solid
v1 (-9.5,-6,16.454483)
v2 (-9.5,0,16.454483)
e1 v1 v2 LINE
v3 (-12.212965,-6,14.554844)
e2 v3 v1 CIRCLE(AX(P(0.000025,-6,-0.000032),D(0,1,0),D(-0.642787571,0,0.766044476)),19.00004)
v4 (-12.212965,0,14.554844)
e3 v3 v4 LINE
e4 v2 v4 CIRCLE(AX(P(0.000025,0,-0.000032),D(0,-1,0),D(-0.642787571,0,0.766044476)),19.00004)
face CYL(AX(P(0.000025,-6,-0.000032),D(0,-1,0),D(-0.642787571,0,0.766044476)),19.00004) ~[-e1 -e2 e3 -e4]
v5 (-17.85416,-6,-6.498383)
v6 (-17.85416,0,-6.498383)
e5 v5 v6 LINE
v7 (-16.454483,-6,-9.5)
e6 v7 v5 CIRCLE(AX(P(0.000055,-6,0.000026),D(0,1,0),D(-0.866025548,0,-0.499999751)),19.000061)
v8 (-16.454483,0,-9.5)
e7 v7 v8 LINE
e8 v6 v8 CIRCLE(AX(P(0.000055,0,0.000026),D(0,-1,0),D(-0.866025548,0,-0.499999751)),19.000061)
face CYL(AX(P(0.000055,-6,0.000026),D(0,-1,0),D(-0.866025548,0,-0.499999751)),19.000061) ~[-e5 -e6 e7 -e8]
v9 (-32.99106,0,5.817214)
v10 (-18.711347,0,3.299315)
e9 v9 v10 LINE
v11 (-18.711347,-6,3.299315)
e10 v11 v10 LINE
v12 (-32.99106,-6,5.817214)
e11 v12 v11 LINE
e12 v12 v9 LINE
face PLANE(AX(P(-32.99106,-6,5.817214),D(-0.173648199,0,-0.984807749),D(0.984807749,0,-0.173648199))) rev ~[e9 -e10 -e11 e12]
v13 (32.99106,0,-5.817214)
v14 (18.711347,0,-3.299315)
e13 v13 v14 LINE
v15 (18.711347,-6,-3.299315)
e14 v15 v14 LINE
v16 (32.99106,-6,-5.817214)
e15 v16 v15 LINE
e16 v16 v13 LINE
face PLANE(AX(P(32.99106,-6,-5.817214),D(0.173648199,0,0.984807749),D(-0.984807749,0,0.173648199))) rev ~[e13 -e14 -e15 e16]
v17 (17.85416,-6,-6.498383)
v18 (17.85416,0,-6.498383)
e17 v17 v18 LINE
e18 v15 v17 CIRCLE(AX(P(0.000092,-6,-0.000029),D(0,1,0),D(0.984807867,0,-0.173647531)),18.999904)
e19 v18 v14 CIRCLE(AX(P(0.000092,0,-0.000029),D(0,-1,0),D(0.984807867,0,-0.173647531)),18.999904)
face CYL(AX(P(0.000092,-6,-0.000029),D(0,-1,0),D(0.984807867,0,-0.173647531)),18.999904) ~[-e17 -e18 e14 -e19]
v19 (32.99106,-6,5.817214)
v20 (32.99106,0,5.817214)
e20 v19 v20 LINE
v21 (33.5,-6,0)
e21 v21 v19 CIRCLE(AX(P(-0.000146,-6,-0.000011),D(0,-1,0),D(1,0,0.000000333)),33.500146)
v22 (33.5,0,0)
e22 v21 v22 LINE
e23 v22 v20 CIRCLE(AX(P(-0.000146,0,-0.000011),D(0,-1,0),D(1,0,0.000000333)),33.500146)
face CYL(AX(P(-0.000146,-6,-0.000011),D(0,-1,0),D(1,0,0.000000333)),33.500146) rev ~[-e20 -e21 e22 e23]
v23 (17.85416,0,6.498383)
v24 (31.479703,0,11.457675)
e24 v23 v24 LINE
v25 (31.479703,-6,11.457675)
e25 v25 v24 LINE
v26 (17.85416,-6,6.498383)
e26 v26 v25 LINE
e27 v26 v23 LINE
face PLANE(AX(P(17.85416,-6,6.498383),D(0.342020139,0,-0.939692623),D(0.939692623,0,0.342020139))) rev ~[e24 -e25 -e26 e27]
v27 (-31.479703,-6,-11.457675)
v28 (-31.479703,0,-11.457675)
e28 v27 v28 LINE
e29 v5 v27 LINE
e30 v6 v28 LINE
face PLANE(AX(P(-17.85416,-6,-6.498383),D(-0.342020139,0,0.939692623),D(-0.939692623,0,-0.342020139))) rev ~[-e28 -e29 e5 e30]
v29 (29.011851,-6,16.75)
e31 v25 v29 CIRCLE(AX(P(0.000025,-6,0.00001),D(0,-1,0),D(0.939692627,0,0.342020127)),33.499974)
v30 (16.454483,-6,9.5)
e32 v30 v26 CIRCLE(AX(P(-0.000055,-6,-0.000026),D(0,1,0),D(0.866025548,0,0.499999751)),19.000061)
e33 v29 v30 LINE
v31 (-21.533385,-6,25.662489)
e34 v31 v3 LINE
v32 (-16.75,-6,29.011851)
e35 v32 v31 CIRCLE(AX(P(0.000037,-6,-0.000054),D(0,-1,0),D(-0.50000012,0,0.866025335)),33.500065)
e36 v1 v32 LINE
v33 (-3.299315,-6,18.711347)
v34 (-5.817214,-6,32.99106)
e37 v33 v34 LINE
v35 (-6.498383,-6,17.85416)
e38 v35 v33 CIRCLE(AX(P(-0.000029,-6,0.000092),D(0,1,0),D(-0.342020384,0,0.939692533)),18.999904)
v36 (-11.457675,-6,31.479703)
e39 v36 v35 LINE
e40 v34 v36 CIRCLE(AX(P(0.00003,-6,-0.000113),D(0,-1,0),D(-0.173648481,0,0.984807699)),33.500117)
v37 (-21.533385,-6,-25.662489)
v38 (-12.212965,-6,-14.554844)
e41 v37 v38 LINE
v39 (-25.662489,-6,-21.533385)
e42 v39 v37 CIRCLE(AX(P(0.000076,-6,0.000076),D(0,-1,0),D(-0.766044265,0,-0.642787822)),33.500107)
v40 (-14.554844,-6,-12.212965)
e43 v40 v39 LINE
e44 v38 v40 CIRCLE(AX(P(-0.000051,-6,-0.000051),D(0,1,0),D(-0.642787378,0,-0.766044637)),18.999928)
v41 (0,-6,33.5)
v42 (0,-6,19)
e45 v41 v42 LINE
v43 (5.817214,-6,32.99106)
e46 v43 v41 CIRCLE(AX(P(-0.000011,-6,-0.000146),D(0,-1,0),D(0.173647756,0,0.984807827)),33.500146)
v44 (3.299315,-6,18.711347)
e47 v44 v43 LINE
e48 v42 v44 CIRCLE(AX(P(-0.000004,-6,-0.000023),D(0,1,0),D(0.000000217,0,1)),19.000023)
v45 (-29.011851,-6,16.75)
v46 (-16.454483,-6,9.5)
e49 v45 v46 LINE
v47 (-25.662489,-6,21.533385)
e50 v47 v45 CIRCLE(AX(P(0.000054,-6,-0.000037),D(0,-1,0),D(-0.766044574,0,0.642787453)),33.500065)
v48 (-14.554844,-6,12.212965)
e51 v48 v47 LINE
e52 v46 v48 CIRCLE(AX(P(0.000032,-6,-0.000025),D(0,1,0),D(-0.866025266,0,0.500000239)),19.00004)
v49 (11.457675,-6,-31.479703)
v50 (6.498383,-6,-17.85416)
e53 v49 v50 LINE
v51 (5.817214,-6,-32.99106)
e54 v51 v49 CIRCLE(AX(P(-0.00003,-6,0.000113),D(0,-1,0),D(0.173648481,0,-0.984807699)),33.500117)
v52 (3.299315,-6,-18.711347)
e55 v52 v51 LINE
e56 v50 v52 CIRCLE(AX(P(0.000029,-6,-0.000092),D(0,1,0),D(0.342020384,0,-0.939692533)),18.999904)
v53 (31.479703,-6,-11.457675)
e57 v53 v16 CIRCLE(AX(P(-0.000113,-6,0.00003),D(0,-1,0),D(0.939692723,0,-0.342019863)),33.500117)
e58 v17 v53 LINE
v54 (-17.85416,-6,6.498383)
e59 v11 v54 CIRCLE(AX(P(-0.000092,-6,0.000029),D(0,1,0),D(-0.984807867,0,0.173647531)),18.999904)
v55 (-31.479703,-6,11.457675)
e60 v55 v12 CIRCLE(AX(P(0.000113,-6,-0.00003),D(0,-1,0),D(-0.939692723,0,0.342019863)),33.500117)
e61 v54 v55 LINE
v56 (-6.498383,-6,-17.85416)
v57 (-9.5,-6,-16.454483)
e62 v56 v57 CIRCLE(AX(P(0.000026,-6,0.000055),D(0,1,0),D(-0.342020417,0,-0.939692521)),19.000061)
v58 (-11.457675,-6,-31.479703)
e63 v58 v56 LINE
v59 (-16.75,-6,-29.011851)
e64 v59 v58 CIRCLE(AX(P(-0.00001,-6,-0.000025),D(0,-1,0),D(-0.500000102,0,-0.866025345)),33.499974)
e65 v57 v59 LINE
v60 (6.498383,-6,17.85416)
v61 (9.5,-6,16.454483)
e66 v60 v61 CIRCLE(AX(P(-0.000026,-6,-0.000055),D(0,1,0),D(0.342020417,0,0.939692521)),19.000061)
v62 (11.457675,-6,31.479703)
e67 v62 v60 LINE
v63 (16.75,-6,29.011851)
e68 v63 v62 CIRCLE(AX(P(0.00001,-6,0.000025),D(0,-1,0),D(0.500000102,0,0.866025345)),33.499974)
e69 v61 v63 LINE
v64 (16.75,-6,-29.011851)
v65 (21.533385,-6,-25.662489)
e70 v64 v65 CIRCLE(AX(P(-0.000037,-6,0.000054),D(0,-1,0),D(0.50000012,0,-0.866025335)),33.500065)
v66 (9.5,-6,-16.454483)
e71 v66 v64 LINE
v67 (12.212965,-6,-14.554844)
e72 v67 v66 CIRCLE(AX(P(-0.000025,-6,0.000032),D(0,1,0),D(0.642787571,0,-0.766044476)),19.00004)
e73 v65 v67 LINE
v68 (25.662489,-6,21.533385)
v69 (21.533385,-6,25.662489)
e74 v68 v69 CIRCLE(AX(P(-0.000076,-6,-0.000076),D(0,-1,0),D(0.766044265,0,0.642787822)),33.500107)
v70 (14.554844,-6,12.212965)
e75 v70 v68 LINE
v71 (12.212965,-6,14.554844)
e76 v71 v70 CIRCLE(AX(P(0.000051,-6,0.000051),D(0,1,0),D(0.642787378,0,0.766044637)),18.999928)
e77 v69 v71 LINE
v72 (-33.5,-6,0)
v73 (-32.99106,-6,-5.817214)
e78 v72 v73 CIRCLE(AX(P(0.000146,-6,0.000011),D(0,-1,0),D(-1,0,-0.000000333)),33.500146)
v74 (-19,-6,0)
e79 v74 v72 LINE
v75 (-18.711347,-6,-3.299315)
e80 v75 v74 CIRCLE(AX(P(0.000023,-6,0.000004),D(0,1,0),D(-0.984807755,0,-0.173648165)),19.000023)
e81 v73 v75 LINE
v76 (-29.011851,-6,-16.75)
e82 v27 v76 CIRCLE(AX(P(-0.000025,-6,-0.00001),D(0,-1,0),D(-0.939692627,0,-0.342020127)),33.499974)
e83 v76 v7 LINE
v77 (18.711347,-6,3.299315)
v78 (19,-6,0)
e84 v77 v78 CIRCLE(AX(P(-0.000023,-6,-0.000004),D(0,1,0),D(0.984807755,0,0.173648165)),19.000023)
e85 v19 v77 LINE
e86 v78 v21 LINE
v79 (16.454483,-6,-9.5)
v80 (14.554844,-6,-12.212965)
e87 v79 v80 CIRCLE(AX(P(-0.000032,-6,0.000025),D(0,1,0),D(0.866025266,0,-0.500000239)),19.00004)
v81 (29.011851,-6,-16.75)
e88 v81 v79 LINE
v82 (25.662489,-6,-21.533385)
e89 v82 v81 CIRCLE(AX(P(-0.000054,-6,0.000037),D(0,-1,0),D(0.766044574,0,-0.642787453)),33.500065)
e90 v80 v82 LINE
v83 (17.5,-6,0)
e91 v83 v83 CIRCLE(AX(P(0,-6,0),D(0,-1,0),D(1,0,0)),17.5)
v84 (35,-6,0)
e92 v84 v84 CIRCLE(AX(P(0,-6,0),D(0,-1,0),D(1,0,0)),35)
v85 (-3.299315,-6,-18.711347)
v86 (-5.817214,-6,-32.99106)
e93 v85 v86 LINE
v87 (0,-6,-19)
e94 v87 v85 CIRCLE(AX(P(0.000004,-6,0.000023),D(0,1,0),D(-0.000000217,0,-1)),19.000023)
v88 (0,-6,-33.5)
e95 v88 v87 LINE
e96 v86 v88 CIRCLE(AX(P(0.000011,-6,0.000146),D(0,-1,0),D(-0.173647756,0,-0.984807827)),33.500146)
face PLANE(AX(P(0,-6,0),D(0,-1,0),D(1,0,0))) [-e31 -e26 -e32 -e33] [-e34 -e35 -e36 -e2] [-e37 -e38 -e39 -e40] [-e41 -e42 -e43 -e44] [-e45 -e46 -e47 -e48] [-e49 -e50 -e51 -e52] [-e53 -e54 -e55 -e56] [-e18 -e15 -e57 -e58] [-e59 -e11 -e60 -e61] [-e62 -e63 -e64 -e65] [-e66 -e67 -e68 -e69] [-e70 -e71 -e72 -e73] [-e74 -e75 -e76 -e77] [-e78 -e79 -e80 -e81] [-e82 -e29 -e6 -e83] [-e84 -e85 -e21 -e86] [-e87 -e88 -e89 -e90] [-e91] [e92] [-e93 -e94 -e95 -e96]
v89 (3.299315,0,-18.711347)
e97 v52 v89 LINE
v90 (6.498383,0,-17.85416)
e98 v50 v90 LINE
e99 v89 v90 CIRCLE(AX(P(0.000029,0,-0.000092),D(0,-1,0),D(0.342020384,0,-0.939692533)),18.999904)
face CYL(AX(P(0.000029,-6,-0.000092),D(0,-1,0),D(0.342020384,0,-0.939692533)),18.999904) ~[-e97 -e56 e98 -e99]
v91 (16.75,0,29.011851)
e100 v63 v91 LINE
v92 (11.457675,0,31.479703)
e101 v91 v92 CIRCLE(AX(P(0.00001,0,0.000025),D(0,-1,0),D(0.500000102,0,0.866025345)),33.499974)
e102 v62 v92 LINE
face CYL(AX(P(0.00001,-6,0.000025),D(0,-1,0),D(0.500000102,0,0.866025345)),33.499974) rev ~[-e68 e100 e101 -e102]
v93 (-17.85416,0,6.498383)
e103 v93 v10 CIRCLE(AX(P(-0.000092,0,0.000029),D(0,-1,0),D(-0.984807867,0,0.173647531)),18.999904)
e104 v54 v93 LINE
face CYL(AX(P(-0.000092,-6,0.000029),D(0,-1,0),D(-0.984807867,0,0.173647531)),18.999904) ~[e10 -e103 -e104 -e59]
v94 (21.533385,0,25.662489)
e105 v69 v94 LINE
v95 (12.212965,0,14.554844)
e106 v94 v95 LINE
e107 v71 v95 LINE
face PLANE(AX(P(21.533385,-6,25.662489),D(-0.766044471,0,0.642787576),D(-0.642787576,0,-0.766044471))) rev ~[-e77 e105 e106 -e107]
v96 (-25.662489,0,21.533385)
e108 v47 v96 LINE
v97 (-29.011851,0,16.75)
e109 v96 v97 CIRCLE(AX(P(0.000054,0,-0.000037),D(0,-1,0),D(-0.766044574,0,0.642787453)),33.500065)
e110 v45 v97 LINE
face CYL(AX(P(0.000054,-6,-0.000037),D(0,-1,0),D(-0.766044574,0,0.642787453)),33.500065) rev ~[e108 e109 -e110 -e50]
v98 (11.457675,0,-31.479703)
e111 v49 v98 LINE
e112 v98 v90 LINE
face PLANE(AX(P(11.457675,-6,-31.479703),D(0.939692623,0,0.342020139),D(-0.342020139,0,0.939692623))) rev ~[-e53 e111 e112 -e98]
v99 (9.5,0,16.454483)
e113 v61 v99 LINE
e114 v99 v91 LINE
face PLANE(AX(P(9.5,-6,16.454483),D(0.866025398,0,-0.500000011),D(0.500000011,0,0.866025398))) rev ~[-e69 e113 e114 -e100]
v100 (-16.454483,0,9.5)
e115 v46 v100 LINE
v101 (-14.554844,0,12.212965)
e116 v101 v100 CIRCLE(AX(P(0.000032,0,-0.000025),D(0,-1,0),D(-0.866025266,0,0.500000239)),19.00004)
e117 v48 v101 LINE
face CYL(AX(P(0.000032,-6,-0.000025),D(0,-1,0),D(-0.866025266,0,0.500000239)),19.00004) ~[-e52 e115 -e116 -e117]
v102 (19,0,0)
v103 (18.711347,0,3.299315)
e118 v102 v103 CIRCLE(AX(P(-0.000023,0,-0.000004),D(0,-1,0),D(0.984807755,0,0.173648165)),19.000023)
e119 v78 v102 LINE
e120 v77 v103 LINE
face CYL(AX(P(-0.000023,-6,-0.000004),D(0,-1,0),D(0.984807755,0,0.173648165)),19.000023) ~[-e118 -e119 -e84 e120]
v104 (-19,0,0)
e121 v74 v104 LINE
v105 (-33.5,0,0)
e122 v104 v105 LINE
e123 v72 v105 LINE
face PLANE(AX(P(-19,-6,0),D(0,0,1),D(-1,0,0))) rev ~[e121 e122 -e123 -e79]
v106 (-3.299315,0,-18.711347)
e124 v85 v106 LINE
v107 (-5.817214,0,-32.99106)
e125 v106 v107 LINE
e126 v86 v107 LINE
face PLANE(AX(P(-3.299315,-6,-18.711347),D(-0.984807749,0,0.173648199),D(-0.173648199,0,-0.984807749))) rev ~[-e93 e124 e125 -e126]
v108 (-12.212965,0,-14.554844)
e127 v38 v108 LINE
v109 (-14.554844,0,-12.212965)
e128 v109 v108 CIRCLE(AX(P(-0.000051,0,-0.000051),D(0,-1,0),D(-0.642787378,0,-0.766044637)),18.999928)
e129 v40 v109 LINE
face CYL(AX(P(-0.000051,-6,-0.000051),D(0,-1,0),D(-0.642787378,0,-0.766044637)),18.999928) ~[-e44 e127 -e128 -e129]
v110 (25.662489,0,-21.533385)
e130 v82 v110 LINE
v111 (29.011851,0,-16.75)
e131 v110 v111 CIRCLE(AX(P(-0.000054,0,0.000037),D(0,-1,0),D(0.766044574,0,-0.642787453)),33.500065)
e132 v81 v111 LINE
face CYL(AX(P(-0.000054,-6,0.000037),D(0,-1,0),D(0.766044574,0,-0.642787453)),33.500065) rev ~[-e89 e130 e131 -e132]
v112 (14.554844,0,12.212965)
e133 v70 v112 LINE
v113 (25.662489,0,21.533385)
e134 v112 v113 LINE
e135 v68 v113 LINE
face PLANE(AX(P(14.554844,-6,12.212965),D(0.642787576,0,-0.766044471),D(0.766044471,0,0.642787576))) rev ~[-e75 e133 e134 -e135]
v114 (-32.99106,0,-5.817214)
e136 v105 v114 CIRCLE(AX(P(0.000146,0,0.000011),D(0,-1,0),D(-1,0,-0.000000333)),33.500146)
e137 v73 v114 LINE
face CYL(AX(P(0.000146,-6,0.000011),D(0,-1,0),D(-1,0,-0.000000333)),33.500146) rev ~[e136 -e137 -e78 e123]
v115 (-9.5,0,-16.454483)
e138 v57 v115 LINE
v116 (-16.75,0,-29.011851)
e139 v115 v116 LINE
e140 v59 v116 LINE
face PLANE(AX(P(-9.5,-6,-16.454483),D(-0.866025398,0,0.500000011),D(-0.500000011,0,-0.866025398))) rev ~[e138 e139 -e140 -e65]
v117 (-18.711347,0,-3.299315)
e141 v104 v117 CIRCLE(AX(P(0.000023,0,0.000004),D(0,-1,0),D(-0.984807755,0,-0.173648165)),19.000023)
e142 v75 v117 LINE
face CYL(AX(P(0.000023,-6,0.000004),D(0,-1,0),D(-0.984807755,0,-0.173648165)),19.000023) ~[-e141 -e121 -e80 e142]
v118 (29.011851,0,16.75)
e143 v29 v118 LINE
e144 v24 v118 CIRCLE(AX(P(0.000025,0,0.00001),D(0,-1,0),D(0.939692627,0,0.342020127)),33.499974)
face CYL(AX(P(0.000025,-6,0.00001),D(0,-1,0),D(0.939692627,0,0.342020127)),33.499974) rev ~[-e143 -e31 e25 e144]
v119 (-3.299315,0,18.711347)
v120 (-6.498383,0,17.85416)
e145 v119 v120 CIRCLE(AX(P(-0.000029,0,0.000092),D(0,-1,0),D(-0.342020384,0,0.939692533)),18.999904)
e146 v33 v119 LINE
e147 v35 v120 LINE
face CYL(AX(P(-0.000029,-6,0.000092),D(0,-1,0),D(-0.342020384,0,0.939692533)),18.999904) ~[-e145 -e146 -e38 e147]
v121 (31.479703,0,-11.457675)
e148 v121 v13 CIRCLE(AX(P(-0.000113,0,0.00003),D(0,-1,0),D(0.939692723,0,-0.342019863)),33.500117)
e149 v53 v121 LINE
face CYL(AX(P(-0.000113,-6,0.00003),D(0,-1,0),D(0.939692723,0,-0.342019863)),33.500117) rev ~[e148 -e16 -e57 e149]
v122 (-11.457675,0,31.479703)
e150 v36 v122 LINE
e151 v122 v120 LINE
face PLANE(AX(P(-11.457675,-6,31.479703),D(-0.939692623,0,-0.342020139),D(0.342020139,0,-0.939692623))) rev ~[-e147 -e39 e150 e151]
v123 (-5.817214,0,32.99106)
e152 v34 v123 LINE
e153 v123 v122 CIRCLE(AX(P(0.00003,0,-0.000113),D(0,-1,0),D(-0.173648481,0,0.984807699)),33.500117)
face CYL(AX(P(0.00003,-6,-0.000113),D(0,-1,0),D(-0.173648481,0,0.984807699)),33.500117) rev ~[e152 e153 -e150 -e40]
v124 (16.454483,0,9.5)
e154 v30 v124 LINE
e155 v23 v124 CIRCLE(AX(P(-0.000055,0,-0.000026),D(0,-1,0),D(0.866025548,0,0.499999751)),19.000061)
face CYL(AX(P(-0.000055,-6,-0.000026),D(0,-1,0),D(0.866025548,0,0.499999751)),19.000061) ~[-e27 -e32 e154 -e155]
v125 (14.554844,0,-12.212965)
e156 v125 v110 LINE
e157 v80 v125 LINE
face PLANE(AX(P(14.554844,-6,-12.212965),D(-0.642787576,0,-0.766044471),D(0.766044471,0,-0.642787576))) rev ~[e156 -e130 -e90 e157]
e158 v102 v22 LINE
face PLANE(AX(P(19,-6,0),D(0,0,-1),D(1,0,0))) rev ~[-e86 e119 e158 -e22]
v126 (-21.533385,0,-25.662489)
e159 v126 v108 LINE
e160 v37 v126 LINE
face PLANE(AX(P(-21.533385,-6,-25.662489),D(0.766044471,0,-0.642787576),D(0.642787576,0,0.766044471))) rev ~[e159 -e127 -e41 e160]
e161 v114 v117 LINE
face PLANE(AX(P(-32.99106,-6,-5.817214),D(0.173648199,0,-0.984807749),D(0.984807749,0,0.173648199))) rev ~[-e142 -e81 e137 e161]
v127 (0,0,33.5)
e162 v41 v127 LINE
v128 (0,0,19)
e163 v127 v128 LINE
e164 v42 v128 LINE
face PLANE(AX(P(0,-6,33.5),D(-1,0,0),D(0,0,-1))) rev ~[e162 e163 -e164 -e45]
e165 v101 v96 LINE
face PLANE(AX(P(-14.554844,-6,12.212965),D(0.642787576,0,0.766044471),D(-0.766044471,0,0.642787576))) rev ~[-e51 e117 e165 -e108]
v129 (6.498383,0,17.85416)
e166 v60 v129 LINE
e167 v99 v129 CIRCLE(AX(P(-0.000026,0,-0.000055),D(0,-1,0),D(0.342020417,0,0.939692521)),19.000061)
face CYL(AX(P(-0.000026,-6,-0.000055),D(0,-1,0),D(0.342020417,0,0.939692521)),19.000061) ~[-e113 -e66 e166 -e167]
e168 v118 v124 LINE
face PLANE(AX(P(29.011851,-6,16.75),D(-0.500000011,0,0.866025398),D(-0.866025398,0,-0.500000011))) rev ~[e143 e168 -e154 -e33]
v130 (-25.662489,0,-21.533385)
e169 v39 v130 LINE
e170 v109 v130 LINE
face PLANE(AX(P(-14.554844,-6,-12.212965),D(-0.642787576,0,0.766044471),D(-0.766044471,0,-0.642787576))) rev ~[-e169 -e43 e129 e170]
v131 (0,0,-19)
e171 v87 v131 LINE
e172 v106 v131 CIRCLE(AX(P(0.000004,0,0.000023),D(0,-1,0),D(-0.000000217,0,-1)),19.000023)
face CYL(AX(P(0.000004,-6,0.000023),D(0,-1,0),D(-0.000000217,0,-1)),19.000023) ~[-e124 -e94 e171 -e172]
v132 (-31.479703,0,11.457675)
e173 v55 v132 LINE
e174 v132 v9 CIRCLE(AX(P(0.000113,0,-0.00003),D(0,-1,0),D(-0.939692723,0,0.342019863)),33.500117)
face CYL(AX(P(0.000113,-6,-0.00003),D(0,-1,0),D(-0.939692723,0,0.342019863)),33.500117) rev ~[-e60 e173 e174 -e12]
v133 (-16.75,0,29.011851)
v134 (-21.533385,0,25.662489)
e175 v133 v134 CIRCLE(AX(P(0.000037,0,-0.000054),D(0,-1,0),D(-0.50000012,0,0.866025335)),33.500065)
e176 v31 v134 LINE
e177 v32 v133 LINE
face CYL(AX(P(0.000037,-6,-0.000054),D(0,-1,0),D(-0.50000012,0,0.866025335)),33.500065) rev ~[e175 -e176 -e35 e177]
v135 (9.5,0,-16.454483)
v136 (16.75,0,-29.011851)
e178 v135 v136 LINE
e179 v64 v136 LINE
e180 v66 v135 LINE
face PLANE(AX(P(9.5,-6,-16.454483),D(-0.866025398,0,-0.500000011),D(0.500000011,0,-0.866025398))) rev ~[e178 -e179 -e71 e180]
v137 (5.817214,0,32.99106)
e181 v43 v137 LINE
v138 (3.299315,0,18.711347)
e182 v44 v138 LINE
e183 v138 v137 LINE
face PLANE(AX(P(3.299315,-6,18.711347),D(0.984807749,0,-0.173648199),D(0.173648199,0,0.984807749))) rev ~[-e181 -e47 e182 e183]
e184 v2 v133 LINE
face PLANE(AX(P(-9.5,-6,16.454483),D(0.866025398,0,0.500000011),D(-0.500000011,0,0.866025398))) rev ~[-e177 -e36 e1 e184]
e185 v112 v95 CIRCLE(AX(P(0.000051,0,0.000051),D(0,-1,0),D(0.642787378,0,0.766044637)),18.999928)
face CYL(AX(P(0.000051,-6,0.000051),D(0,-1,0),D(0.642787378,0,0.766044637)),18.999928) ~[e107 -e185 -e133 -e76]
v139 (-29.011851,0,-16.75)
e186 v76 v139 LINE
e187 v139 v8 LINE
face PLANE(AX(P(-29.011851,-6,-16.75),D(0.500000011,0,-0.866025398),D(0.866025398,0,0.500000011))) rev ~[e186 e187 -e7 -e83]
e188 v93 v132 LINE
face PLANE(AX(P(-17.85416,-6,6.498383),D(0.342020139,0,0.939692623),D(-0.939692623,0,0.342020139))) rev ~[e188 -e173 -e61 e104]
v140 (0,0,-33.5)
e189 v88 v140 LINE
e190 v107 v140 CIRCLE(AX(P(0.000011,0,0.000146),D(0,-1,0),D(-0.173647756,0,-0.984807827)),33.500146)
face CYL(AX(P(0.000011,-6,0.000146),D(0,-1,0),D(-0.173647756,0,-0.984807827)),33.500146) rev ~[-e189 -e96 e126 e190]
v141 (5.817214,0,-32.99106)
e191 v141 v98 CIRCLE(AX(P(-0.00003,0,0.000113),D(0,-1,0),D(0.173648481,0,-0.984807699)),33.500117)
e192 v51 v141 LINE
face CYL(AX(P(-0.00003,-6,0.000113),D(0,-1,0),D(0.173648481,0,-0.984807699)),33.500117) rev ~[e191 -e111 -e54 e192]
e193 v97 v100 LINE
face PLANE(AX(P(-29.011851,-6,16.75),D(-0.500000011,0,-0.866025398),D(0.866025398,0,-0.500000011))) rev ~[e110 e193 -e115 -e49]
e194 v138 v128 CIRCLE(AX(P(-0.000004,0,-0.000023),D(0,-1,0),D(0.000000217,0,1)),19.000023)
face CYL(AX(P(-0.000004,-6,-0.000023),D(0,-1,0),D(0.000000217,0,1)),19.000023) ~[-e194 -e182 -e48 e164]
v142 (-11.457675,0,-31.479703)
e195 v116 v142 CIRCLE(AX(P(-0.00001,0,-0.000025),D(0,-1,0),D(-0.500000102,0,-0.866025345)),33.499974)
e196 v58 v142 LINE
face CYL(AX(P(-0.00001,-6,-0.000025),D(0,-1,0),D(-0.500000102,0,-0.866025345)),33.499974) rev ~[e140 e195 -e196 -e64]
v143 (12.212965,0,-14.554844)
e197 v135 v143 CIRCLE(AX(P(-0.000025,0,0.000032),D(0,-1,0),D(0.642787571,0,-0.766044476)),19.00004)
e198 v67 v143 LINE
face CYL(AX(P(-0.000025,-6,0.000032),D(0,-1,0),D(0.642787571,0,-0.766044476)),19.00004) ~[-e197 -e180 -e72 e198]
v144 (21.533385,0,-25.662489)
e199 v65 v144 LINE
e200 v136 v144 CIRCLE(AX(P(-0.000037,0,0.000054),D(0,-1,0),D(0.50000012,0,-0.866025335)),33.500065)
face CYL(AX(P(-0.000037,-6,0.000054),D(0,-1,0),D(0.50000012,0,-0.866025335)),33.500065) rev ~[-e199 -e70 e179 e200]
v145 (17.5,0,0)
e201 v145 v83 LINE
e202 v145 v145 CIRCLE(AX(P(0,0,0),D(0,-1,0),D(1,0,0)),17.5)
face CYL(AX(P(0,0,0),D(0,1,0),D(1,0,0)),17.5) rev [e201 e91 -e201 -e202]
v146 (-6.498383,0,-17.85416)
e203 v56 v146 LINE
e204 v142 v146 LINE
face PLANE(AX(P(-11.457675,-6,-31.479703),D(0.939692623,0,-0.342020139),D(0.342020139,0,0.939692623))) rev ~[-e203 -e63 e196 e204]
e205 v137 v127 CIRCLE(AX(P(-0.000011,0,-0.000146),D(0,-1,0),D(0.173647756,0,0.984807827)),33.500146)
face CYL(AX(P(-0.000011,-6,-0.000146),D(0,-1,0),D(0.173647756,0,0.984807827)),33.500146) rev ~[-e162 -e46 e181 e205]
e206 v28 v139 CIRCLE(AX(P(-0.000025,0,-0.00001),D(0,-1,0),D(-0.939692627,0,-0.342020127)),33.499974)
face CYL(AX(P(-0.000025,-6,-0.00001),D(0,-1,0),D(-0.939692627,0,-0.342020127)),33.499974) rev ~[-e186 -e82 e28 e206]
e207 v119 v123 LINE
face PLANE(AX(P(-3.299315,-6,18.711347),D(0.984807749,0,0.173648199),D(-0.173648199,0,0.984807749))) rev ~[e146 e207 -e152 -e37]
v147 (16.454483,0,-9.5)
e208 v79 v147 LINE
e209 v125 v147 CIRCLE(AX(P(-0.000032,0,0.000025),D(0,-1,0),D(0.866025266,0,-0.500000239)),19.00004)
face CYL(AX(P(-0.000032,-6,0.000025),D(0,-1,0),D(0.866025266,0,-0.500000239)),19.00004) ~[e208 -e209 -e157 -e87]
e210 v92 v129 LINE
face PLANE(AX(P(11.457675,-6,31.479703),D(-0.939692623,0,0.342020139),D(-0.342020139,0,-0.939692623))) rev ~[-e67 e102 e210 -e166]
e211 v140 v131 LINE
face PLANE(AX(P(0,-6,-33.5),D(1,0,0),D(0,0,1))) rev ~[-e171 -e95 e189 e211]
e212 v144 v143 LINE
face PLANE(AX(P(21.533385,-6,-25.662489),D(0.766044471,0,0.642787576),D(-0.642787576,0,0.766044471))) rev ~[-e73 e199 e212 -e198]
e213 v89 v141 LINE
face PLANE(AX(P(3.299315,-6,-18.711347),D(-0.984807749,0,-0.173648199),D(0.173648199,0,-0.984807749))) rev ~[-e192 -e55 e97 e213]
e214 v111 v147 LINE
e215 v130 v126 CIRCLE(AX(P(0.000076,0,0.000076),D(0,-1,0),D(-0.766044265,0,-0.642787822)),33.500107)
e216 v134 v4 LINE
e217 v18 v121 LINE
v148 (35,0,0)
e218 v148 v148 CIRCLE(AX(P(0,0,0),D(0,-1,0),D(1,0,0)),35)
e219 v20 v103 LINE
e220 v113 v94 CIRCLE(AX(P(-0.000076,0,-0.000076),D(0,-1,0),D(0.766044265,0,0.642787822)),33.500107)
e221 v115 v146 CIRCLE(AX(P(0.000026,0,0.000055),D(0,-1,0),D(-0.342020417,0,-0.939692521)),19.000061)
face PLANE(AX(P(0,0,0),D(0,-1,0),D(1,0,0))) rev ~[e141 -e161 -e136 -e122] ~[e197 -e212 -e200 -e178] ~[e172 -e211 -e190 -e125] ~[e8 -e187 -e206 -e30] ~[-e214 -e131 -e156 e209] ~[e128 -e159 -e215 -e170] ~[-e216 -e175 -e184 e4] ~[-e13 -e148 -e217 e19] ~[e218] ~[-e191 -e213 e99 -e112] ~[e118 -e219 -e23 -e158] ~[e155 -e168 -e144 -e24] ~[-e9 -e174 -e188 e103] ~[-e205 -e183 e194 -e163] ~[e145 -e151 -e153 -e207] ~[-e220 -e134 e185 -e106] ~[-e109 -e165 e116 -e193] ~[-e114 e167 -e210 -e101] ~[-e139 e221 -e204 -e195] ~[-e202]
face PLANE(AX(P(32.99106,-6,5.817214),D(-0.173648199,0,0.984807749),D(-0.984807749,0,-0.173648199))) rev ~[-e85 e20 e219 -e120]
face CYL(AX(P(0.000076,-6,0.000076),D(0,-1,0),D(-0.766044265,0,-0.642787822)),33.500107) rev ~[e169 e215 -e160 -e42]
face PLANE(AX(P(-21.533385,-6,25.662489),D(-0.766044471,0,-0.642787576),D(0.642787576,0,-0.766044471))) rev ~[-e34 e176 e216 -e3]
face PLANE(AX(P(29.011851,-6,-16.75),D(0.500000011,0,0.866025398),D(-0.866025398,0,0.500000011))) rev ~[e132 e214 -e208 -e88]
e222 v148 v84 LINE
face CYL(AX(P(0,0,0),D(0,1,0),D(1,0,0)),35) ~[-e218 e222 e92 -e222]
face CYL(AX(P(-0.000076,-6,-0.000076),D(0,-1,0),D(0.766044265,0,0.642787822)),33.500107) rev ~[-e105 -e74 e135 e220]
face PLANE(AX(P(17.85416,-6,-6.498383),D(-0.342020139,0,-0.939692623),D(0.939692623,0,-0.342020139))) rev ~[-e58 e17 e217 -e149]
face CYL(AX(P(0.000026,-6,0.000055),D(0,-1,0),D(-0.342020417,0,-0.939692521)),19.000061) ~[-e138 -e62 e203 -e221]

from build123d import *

# Parameters (mm, degrees)
F0_R     = 35
F0_R_2   = 17.5
F1_DEPTH = 6
F3_DEPTH = 6.001


with BuildPart() as f1:
    # F0 (on Front) → F1 (new body)
    with BuildSketch(Plane.XZ):
        Circle(F0_R)
        Circle(F0_R_2, mode=Mode.SUBTRACT)
    extrude(amount=F1_DEPTH)

    # F2 (on face) → F3 (cut, through all)
    with BuildSketch(Plane.XZ.offset(6)):
        with BuildLine():
            ThreePointArc((16.454483, -9.5), (15.563889, -10.897952), (14.554844, -12.212965))
            Line((14.554844, -12.212965), (25.662489, -21.533385))
            ThreePointArc((25.662489, -21.533385), (27.441593, -19.214811), (29.011851, -16.75))
            Line((29.011851, -16.75), (16.454483, -9.5))
        make_face()
        with BuildLine():
            ThreePointArc((18.711347, -3.299315), (18.352591, -4.917562), (17.85416, -6.498383))
            Line((17.85416, -6.498383), (31.479703, -11.457675))
            ThreePointArc((31.479703, -11.457675), (32.358515, -8.670438), (32.99106, -5.817214))
            Line((32.99106, -5.817214), (18.711347, -3.299315))
        make_face()
        with BuildLine():
            ThreePointArc((18.711347, 3.299315), (18.927699, 1.655959), (19, 0))
            Line((19, 0), (33.5, 0))
            ThreePointArc((33.5, 0), (33.372522, 2.919717), (32.99106, 5.817214))
            Line((32.99106, 5.817214), (18.711347, 3.299315))
        make_face()
        with BuildLine():
            ThreePointArc((16.454483, 9.5), (17.219848, 8.029747), (17.85416, 6.498383))
            Line((17.85416, 6.498383), (31.479703, 11.457675))
            ThreePointArc((31.479703, 11.457675), (30.361311, 14.157712), (29.011851, 16.75))
            Line((29.011851, 16.75), (16.454483, 9.5))
        make_face()
        with BuildLine():
            ThreePointArc((6.498383, 17.85416), (8.029747, 17.219848), (9.5, 16.454483))
            Line((9.5, 16.454483), (16.75, 29.011851))
            ThreePointArc((16.75, 29.011851), (14.157712, 30.361311), (11.457675, 31.479703))
            Line((11.457675, 31.479703), (6.498383, 17.85416))
        make_face()
        with BuildLine():
            ThreePointArc((12.212965, 14.554844), (13.435029, 13.435029), (14.554844, 12.212965))
            Line((14.554844, 12.212965), (25.662489, 21.533385))
            ThreePointArc((25.662489, 21.533385), (23.688077, 23.688077), (21.533385, 25.662489))
            Line((21.533385, 25.662489), (12.212965, 14.554844))
        make_face()
        with BuildLine():
            ThreePointArc((0, 19), (1.655959, 18.927699), (3.299315, 18.711347))
            Line((3.299315, 18.711347), (5.817214, 32.99106))
            ThreePointArc((5.817214, 32.99106), (2.919717, 33.372522), (0, 33.5))
            Line((0, 33.5), (0, 19))
        make_face()
        with BuildLine():
            ThreePointArc((-6.498383, 17.85416), (-4.917562, 18.352591), (-3.299315, 18.711347))
            Line((-3.299315, 18.711347), (-5.817214, 32.99106))
            ThreePointArc((-5.817214, 32.99106), (-8.670438, 32.358515), (-11.457675, 31.479703))
            Line((-11.457675, 31.479703), (-6.498383, 17.85416))
        make_face()
        with BuildLine():
            ThreePointArc((-12.212965, 14.554844), (-10.897952, 15.563889), (-9.5, 16.454483))
            Line((-9.5, 16.454483), (-16.75, 29.011851))
            ThreePointArc((-16.75, 29.011851), (-19.214811, 27.441593), (-21.533385, 25.662489))
            Line((-21.533385, 25.662489), (-12.212965, 14.554844))
        make_face()
        with BuildLine():
            ThreePointArc((-16.454483, 9.5), (-15.563889, 10.897952), (-14.554844, 12.212965))
            Line((-14.554844, 12.212965), (-25.662489, 21.533385))
            ThreePointArc((-25.662489, 21.533385), (-27.441593, 19.214811), (-29.011851, 16.75))
            Line((-29.011851, 16.75), (-16.454483, 9.5))
        make_face()
        with BuildLine():
            ThreePointArc((-18.711347, 3.299315), (-18.352591, 4.917562), (-17.85416, 6.498383))
            Line((-17.85416, 6.498383), (-31.479703, 11.457675))
            ThreePointArc((-31.479703, 11.457675), (-32.358515, 8.670438), (-32.99106, 5.817214))
            Line((-32.99106, 5.817214), (-18.711347, 3.299315))
        make_face()
        with BuildLine():
            ThreePointArc((-12.212965, -14.554844), (-13.435029, -13.435029), (-14.554844, -12.212965))
            Line((-14.554844, -12.212965), (-25.662489, -21.533385))
            ThreePointArc((-25.662489, -21.533385), (-23.688077, -23.688077), (-21.533385, -25.662489))
            Line((-21.533385, -25.662489), (-12.212965, -14.554844))
        make_face()
        with BuildLine():
            ThreePointArc((-18.711347, -3.299315), (-18.927699, -1.655959), (-19, 0))
            Line((-19, 0), (-33.5, 0))
            ThreePointArc((-33.5, 0), (-33.372522, -2.919717), (-32.99106, -5.817214))
            Line((-32.99106, -5.817214), (-18.711347, -3.299315))
        make_face()
        with BuildLine():
            ThreePointArc((-16.454483, -9.5), (-17.219848, -8.029747), (-17.85416, -6.498383))
            Line((-17.85416, -6.498383), (-31.479703, -11.457675))
            ThreePointArc((-31.479703, -11.457675), (-30.361311, -14.157712), (-29.011851, -16.75))
            Line((-29.011851, -16.75), (-16.454483, -9.5))
        make_face()
        with BuildLine():
            ThreePointArc((0, -19), (-1.655959, -18.927699), (-3.299315, -18.711347))
            Line((-3.299315, -18.711347), (-5.817214, -32.99106))
            ThreePointArc((-5.817214, -32.99106), (-2.919717, -33.372522), (0, -33.5))
            Line((0, -33.5), (0, -19))
        make_face()
        with BuildLine():
            ThreePointArc((-6.498383, -17.85416), (-8.029747, -17.219848), (-9.5, -16.454483))
            Line((-9.5, -16.454483), (-16.75, -29.011851))
            ThreePointArc((-16.75, -29.011851), (-14.157712, -30.361311), (-11.457675, -31.479703))
            Line((-11.457675, -31.479703), (-6.498383, -17.85416))
        make_face()
        with BuildLine():
            ThreePointArc((6.498383, -17.85416), (4.917562, -18.352591), (3.299315, -18.711347))
            Line((3.299315, -18.711347), (5.817214, -32.99106))
            ThreePointArc((5.817214, -32.99106), (8.670438, -32.358515), (11.457675, -31.479703))
            Line((11.457675, -31.479703), (6.498383, -17.85416))
        make_face()
        with BuildLine():
            ThreePointArc((12.212965, -14.554844), (10.897952, -15.563889), (9.5, -16.454483))
            Line((9.5, -16.454483), (16.75, -29.011851))
            ThreePointArc((16.75, -29.011851), (19.214811, -27.441593), (21.533385, -25.662489))
            Line((21.533385, -25.662489), (12.212965, -14.554844))
        make_face()
    extrude(amount=-F3_DEPTH, mode=Mode.SUBTRACT)


solid = f1.part
